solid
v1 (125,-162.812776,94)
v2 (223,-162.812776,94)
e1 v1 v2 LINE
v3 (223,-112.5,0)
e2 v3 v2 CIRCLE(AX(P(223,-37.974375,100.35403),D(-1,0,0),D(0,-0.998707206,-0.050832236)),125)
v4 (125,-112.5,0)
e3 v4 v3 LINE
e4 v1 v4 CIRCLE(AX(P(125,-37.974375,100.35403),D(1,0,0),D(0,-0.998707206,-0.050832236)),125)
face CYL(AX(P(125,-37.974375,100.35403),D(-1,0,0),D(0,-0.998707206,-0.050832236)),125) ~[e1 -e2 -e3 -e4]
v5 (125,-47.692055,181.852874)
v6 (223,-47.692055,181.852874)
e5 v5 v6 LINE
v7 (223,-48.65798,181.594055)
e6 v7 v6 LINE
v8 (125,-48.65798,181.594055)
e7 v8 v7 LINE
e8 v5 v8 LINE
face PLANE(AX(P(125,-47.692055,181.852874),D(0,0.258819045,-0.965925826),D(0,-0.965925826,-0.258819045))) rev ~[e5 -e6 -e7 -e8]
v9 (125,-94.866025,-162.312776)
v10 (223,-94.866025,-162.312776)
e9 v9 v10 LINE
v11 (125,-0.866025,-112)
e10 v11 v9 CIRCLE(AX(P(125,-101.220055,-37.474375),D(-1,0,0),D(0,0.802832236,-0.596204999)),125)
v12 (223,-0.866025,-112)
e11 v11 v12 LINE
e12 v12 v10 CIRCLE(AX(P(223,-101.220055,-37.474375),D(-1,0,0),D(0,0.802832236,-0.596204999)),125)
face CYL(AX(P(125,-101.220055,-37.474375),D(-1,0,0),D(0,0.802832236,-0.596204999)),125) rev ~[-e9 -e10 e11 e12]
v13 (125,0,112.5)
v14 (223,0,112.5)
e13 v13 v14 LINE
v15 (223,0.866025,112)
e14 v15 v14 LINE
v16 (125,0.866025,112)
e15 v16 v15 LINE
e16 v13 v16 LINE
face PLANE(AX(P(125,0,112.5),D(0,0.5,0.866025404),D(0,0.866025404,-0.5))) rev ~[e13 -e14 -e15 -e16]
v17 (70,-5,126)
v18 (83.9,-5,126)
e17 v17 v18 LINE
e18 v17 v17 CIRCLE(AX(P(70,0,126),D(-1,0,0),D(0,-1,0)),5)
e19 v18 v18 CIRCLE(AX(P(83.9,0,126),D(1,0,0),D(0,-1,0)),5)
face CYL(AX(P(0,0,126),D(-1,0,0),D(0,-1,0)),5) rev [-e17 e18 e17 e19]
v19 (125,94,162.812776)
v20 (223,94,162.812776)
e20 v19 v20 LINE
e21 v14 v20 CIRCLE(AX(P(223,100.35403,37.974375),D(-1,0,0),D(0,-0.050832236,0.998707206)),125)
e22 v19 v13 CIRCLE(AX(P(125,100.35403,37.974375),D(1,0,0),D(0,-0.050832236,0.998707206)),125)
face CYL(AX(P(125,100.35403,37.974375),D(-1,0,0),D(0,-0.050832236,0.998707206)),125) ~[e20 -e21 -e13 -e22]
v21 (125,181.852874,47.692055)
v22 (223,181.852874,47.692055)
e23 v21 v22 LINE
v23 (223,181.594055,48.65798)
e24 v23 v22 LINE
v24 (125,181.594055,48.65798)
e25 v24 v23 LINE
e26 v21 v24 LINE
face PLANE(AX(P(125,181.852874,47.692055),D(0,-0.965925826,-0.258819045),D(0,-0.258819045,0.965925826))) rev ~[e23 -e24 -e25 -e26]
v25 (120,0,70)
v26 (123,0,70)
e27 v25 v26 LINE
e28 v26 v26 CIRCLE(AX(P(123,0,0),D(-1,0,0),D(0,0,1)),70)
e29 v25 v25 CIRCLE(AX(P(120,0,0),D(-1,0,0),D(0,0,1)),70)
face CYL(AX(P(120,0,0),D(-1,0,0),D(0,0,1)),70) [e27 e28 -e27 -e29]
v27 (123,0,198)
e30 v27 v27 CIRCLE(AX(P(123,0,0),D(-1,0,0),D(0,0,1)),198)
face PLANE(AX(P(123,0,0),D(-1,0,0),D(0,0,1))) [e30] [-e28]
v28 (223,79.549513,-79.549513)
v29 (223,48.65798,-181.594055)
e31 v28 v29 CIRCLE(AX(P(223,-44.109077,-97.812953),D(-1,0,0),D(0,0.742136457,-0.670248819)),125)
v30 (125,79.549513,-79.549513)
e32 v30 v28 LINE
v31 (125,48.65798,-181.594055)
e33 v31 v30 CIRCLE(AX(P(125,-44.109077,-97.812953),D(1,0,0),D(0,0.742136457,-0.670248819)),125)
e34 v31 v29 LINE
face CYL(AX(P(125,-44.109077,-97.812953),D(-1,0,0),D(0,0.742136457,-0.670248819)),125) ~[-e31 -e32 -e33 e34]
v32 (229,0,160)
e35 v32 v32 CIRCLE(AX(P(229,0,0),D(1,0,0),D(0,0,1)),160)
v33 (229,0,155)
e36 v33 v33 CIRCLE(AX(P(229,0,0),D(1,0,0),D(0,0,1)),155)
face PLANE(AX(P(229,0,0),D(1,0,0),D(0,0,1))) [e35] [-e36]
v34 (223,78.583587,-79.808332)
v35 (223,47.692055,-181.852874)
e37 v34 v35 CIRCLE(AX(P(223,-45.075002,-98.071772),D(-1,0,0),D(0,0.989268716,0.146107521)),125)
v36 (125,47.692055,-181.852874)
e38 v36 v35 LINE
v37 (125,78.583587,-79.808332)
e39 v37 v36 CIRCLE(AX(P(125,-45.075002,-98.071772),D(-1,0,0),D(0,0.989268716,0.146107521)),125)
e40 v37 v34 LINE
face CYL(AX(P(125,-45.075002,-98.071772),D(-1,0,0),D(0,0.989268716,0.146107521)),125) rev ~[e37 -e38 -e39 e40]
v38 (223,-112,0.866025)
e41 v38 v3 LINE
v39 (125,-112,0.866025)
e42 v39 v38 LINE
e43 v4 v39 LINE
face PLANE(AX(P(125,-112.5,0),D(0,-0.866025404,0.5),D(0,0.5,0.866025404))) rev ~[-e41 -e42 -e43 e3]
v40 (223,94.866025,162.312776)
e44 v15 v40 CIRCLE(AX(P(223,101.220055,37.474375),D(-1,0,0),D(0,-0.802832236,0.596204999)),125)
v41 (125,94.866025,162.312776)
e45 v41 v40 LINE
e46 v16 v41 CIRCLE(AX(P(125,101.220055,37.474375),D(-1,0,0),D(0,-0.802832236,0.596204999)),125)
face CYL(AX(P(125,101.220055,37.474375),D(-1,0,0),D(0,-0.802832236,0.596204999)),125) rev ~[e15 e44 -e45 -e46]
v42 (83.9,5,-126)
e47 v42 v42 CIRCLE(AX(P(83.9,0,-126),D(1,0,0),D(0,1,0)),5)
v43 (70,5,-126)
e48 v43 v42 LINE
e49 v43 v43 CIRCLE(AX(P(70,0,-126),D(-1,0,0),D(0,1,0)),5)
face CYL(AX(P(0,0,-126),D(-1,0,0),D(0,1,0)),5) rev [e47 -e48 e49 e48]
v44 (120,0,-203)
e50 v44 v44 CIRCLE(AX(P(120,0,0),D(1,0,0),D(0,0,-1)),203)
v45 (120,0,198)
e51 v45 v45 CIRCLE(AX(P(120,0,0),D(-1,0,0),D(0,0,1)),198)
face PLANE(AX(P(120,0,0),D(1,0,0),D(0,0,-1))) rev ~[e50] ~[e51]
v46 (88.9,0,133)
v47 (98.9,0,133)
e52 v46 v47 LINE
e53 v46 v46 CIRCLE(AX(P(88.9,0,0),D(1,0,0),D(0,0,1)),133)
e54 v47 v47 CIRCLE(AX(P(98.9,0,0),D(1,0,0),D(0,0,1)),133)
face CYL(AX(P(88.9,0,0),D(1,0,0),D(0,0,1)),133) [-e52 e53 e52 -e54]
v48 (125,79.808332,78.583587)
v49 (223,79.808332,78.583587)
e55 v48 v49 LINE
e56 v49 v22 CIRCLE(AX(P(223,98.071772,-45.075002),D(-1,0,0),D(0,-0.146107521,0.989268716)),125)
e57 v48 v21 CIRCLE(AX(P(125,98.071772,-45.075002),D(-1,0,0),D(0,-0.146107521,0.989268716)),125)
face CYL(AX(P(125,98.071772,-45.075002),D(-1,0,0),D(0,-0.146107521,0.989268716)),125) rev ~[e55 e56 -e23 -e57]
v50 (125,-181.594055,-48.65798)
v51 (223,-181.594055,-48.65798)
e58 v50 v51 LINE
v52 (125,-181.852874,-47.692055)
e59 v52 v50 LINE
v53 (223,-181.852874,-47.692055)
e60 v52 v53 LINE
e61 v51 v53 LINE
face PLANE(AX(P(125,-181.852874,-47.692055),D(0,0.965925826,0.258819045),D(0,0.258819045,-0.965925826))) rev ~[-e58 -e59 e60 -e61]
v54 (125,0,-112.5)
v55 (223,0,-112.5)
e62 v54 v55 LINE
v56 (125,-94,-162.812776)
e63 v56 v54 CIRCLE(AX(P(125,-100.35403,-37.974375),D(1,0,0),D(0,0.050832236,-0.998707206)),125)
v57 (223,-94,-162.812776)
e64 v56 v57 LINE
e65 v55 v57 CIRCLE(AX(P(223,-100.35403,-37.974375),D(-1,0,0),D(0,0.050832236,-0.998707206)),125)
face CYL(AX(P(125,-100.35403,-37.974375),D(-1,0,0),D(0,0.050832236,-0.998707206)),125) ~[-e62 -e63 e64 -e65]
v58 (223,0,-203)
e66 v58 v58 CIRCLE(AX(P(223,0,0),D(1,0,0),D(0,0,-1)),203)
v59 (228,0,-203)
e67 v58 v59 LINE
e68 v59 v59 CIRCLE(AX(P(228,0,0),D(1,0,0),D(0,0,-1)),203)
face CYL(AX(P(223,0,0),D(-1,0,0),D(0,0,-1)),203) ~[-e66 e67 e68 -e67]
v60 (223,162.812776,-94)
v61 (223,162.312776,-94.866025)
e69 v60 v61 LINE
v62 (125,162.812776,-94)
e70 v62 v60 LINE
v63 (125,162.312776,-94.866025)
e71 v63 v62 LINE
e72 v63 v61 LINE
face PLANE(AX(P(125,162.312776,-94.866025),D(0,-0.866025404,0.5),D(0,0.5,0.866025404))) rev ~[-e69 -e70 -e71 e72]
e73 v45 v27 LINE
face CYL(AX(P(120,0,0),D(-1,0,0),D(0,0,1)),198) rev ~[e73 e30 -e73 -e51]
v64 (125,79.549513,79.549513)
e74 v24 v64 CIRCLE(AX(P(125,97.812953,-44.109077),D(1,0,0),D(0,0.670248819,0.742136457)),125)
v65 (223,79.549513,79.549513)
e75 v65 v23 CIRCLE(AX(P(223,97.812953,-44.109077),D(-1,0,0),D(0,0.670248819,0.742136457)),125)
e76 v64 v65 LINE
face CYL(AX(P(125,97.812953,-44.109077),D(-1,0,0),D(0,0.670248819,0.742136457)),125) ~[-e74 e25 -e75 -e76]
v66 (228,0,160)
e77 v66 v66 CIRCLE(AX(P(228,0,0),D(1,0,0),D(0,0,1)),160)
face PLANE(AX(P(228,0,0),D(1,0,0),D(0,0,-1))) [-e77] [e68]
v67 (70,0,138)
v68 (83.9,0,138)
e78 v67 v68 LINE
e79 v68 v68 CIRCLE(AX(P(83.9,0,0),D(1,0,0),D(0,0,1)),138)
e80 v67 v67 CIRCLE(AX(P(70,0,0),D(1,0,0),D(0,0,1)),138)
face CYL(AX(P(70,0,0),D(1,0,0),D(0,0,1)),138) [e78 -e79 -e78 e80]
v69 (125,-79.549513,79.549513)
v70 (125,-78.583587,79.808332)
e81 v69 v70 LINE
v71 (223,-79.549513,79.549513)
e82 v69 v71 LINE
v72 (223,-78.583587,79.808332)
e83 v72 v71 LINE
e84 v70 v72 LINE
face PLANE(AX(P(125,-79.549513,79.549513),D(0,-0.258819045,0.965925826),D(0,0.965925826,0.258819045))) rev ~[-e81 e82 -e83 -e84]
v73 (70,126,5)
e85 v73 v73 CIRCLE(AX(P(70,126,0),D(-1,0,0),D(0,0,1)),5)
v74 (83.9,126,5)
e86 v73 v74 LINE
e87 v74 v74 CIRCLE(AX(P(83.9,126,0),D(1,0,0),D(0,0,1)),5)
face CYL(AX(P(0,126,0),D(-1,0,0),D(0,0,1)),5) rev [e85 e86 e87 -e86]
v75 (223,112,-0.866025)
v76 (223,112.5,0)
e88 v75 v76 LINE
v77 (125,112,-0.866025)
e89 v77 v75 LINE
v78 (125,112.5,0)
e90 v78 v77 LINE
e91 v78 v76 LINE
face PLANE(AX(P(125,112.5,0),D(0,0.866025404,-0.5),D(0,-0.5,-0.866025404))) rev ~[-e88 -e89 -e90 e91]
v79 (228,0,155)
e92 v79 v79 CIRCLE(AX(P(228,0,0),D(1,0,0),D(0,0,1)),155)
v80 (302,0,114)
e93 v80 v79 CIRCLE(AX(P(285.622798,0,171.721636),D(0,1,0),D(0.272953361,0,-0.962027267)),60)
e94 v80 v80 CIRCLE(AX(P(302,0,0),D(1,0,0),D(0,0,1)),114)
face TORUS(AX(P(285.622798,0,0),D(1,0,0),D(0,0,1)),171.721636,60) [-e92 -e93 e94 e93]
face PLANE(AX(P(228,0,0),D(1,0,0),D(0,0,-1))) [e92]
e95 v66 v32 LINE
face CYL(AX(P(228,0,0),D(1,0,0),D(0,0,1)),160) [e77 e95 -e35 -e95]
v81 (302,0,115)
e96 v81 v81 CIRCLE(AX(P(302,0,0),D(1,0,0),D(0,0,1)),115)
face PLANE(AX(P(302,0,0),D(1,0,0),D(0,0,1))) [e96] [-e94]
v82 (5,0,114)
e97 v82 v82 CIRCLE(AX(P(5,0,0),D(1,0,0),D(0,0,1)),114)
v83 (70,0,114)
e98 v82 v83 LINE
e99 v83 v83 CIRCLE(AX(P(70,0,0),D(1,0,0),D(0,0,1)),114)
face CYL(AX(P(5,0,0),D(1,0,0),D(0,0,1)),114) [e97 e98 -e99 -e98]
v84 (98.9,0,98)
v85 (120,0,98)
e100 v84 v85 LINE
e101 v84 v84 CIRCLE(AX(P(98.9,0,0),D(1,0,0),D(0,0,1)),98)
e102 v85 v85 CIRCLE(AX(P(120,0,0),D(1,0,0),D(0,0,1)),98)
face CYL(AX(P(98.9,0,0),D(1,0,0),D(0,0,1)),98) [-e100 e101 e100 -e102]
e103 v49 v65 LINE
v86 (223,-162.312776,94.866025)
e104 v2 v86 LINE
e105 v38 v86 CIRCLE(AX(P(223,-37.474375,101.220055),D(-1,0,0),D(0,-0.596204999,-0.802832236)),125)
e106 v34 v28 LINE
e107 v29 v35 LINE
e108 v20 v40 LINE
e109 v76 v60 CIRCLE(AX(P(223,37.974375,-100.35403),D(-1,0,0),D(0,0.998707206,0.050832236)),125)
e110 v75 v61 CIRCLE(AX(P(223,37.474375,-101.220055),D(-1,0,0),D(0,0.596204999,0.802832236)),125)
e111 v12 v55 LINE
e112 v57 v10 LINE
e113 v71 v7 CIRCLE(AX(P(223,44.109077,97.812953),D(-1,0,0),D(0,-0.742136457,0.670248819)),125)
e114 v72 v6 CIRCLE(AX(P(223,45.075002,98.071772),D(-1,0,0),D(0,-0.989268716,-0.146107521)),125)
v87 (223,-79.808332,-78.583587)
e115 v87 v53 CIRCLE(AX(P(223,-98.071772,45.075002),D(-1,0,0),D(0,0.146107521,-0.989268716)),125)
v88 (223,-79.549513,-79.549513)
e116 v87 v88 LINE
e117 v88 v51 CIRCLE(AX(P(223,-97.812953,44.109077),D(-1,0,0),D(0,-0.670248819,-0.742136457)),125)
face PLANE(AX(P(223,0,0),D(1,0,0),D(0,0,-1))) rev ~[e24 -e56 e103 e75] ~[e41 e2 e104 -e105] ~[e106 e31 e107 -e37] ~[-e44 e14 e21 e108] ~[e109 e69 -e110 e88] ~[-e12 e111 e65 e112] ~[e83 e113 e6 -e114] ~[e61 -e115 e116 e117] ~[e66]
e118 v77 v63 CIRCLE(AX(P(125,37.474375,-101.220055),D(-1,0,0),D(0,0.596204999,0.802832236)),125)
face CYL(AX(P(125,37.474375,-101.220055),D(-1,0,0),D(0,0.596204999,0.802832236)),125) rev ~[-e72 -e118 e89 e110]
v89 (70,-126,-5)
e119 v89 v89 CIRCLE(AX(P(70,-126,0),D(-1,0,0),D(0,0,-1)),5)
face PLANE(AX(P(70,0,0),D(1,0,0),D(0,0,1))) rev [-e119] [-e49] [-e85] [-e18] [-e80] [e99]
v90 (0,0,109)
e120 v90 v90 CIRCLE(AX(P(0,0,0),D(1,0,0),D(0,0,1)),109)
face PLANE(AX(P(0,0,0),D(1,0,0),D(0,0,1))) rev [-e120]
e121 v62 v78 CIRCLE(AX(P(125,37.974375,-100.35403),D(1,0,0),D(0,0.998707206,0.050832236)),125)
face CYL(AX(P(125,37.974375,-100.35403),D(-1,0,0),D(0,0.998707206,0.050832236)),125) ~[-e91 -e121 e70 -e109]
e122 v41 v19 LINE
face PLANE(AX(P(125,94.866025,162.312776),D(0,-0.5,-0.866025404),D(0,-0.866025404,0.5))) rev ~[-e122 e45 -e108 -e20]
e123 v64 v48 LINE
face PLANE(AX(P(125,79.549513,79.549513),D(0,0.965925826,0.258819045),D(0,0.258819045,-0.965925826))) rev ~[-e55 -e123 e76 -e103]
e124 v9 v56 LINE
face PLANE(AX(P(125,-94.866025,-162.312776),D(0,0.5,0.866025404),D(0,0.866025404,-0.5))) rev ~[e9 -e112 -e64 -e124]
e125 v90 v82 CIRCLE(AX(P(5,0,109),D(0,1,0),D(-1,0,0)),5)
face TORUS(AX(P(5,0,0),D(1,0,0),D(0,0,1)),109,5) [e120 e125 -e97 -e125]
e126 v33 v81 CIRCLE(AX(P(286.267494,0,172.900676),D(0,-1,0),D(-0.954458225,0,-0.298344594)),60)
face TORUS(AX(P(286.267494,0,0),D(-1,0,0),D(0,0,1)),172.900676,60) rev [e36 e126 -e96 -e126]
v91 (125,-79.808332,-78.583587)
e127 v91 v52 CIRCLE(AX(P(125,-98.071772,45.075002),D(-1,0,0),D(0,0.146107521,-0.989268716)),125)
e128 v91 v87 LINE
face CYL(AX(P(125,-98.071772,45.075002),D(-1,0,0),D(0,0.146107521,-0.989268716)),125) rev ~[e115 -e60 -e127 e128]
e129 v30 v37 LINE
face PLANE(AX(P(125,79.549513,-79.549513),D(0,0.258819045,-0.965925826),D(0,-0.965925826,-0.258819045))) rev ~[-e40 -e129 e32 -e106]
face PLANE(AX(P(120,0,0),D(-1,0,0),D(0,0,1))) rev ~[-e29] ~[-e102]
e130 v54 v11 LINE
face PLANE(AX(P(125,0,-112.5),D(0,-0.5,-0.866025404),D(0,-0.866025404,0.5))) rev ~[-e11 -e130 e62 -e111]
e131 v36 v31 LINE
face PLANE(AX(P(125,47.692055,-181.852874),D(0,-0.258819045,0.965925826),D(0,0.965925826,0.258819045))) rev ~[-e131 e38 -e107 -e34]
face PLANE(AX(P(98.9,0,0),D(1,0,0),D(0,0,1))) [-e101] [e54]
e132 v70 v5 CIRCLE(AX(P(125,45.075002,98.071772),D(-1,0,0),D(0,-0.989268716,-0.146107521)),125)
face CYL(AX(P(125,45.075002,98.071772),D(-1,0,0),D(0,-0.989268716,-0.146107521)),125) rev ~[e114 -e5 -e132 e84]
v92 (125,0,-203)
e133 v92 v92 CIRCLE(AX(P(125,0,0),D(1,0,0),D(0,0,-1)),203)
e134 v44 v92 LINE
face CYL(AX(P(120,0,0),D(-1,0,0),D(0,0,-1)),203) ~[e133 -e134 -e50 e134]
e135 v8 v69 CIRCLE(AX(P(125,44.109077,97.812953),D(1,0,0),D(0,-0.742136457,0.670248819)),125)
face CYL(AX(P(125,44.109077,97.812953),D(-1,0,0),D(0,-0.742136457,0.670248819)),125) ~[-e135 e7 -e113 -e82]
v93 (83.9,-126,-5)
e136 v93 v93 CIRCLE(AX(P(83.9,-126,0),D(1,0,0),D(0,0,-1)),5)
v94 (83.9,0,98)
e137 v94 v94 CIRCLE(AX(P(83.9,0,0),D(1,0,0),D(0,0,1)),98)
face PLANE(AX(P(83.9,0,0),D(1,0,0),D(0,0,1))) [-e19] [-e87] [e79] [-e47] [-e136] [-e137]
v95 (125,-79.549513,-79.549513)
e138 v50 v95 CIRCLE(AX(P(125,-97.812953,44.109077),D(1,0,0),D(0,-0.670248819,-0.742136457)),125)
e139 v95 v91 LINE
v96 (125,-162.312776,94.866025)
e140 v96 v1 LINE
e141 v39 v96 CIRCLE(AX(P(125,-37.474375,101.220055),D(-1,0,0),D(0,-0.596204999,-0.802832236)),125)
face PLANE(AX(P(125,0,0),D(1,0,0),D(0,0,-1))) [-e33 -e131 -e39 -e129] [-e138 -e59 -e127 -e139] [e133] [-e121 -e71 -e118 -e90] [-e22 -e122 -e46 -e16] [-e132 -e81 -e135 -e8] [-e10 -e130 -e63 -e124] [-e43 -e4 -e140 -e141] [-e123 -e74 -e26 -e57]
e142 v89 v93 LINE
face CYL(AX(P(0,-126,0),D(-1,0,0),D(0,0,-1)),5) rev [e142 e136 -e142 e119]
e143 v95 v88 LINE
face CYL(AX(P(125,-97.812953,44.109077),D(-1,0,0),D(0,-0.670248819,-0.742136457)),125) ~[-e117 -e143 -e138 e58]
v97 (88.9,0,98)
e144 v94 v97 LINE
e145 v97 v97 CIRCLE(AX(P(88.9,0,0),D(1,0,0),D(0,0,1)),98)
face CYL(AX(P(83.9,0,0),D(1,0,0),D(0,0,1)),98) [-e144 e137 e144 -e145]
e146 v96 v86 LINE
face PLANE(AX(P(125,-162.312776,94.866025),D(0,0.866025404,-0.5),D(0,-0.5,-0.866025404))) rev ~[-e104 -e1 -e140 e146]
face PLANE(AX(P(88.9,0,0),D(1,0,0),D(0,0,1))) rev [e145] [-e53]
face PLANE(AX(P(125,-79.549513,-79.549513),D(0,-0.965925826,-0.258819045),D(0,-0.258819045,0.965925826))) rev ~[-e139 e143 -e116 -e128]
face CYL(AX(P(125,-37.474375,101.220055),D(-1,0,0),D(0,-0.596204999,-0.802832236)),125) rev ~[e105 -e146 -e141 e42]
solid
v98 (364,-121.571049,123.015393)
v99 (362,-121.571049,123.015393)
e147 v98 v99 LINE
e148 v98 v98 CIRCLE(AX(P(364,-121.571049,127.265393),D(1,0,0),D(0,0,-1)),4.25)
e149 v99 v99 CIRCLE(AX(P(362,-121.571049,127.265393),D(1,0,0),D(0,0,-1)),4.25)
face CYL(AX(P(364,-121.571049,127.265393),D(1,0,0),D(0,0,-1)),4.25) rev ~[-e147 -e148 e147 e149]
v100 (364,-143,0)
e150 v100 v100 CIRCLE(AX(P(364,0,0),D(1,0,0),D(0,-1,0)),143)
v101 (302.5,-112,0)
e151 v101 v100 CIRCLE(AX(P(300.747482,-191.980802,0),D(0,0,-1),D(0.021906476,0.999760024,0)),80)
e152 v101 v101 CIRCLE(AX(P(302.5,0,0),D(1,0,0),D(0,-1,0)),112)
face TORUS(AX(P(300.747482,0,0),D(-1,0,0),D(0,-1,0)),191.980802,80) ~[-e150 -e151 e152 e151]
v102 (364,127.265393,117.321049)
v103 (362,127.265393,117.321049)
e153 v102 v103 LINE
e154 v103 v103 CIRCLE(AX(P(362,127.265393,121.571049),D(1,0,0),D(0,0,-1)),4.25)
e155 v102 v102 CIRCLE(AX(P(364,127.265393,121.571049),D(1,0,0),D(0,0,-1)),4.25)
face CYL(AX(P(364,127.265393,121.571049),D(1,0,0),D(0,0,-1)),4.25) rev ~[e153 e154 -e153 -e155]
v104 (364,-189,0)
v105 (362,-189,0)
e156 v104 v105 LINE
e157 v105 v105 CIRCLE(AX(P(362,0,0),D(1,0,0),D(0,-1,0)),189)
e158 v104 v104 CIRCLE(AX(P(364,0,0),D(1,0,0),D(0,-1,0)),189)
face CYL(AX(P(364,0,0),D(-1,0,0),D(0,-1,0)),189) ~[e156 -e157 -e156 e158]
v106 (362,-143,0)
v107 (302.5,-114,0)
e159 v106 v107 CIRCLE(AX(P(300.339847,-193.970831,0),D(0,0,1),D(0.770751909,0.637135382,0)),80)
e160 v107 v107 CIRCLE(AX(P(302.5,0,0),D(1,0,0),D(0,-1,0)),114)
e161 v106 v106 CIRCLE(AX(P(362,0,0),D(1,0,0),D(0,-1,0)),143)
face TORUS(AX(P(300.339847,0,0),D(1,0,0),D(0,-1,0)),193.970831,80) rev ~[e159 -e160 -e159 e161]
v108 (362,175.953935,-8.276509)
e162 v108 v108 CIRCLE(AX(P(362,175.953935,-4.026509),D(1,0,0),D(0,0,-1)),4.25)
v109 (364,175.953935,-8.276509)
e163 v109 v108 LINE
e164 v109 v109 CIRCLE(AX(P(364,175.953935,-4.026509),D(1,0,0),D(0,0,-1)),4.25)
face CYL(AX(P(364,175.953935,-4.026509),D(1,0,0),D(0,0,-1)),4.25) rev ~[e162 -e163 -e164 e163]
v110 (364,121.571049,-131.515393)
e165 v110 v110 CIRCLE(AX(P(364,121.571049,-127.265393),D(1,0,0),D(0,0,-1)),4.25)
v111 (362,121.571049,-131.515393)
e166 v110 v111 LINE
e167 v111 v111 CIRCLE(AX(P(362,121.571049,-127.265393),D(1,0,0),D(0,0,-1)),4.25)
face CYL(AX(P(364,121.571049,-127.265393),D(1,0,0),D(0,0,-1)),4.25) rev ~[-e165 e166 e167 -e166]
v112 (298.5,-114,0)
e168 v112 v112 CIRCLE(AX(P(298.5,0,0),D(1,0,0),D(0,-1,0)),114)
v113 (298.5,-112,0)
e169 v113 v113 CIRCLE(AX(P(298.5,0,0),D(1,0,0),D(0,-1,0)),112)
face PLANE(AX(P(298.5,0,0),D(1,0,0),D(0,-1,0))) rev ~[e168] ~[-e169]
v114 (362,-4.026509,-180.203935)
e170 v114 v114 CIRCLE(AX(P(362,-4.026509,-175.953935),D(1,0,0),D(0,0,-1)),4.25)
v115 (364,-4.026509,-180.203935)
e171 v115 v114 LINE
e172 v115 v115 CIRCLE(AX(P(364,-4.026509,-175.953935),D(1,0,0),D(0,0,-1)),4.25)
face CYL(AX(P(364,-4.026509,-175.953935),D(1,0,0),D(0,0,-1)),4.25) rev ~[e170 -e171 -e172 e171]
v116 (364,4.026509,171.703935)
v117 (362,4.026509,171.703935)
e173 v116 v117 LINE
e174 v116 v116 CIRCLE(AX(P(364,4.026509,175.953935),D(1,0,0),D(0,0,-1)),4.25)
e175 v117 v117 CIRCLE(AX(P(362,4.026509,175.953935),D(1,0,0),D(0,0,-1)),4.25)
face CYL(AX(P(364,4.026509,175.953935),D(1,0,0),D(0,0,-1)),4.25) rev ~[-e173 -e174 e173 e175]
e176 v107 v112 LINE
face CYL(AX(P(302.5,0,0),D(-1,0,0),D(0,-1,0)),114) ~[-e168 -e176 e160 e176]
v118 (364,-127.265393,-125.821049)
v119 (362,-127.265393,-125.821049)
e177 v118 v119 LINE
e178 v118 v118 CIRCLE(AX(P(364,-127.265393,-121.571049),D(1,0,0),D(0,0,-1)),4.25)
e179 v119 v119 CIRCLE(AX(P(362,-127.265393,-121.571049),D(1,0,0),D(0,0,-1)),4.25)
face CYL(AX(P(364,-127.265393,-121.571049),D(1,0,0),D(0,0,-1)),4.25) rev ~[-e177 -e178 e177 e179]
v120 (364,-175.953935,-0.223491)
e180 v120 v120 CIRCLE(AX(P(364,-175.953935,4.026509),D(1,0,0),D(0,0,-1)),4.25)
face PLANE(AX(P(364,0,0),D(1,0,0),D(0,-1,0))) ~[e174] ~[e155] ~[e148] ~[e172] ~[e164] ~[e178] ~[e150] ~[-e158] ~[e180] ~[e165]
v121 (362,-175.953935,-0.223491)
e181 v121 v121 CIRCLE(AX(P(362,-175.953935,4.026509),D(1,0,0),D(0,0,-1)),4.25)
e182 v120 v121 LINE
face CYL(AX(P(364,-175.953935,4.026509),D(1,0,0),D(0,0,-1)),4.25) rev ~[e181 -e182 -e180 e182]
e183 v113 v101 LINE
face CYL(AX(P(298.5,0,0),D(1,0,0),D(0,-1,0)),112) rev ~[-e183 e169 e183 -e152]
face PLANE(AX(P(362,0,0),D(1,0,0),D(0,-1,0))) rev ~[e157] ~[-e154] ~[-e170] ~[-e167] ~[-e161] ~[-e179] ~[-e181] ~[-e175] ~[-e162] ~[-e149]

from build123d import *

# Parameters (mm, degrees)
SKETCH2_R         = 203
EXTRUDE1_DEPTH    = 5
SKETCH9_R         = 198
SKETCH9_R_2       = 70
EXTRUDE7_DEPTH    = 3
SKETCH3_R         = 203
EXTRUDE2_DEPTH    = 5
EXTRUDE3_DEPTH    = 103
CIRPATTERN1_COUNT = 8
SKETCH7_R         = 4.25
EXTRUDE5_DEPTH    = 5
SKETCH8_R         = 5
EXTRUDE6_DEPTH    = 83.9
CIRPATTERN3_COUNT = 4


with BuildPart() as part:
    # Sketch1 → Revolve1 (revolve)
    with BuildSketch(Plane.XY, mode=Mode.PRIVATE) as revolve1_sk:
        with BuildLine():
            Line((0, 0), (0, 109))
            ThreePointArc((0, 109), (1.464466094, 112.535533906), (5, 114))
            Line((5, 114), (70, 114))
            Line((70, 114), (70, 138))
            Line((70, 138), (83.9, 138))
            Line((83.9, 138), (83.9, 98))
            Line((83.9, 98), (88.9, 98))
            Line((88.9, 98), (88.9, 133))
            Line((88.9, 133), (98.9, 133))
            Line((98.9, 133), (98.9, 98))
            Line((98.9, 98), (120, 98))
            Line((120, 98), (120, 0))
            Line((120, 0), (0, 0))
        make_face()
    revolve(revolve1_sk.sketch.rotate(Axis((0, 0, 0), (1, 0, 0)), 90), axis=Axis((0, 0, 0), (1, 0, 0)))

    # Sketch2 → Extrude1 (add)
    with BuildSketch(Plane(origin=(120, 0, 0), x_dir=(0, 0, -1), z_dir=(1, 0, 0))):
        Circle(SKETCH2_R)
    extrude(amount=EXTRUDE1_DEPTH)

    # Sketch9 → Extrude7 (cut)
    with BuildSketch(Plane.ZY.offset(-120)):
        Circle(SKETCH9_R)
        Circle(SKETCH9_R_2, mode=Mode.SUBTRACT)
    extrude(amount=-EXTRUDE7_DEPTH, mode=Mode.SUBTRACT)



with BuildPart() as body_2:
    # Sketch3 → Extrude2 (new body)
    with BuildSketch(Plane(origin=(223, 0, 0), x_dir=(0, 0, -1), z_dir=(1, 0, 0))):
        Circle(SKETCH3_R)
    extrude(amount=EXTRUDE2_DEPTH)


with BuildPart() as part_1:
    add(part.part)

    add(body_2.part)  # Extrude3 merges body 2
    # Sketch4 → Extrude3 (add)
    with BuildSketch(Plane(origin=(125, 0, 0), x_dir=(0, 0, -1), z_dir=(1, 0, 0))):
        with BuildLine():
            Line((0, 112.5), (0.866025404, 112))
            ThreePointArc((0.866025404, 112), (42.232799341, 147.681015951), (94.866025404, 162.312775911))
            Line((94.866025404, 162.312775911), (94, 162.812775911))
            ThreePointArc((94, 162.812775911), (41.366773937, 148.181015951), (0, 112.5))
        make_face()
    extrude3 = extrude(amount=EXTRUDE3_DEPTH)

    # CirPattern1: Extrude3 ×8 about axis
    cirpattern1_axis = Axis((0, 0, 0), (1, 0, 0))
    for i in range(1, CIRPATTERN1_COUNT):
        add(extrude3.rotate(cirpattern1_axis, i * 360 / CIRPATTERN1_COUNT))

    # Sketch5 → Revolve2 (revolve)
    with BuildSketch(Plane.XY, mode=Mode.PRIVATE) as revolve2_sk:
        with BuildLine():
            Line((228, 160), (229, 160))
            Line((229, 160), (229, 155))
            ThreePointArc((229, 155), (257.435414382, 120.282131247), (302, 115))
            Line((302, 115), (302, 114))
            ThreePointArc((302, 114), (256.544459127, 119.238779888), (228, 155))
            Line((228, 155), (228, 160))
        make_face()
    revolve(revolve2_sk.sketch.rotate(Axis((0, 0, 0), (1, 0, 0)), 90), axis=Axis((0, 0, 0), (1, 0, 0)))

    # Sketch8 → Extrude6 (cut)
    with BuildSketch(Plane(origin=(0, 0, 0), x_dir=(0, 0, -1), z_dir=(1, 0, 0))):
        with Locations(Location((0, 126, 0), (0, 0, 180))):
            Circle(SKETCH8_R)
    extrude6 = extrude(amount=EXTRUDE6_DEPTH, mode=Mode.SUBTRACT)

    # CirPattern3: Extrude6 ×4 about axis
    cirpattern3_axis = Axis((0, 0, 0), (1, 0, 0))
    for i in range(1, CIRPATTERN3_COUNT):
        add(extrude6.rotate(cirpattern3_axis, i * 360 / CIRPATTERN3_COUNT), mode=Mode.SUBTRACT)


with BuildPart() as body_2_2:
    # Sketch6 → Revolve3 (revolve)
    with BuildSketch(Plane.XY, mode=Mode.PRIVATE) as revolve3_sk:
        with BuildLine():
            Line((364, 189), (362, 189))
            Line((362, 189), (362, 143))
            ThreePointArc((362, 143), (335.389923552, 122.057743057), (302.5, 114))
            Line((302.5, 114), (298.5, 114))
            Line((298.5, 114), (298.5, 112))
            Line((298.5, 112), (302.5, 112))
            ThreePointArc((302.5, 112), (336.756698542, 120.54316257), (364, 143))
            Line((364, 143), (364, 189))
        make_face()
    revolve(revolve3_sk.sketch.rotate(Axis((0, 0, 0), (1, 0, 0)), 180), axis=Axis((0, 0, 0), (1, 0, 0)))

    # Sketch7 → Extrude5 (cut)
    with BuildSketch(Plane(origin=(364, 0, 0), x_dir=(0, 0, -1), z_dir=(1, 0, 0))):
        with Locations((-121.571048537, 127.265392616)):
            Circle(SKETCH7_R)
        with Locations((4.026509313, 175.953934945)):
            Circle(SKETCH7_R)
        with Locations((127.265392616, 121.571048537)):
            Circle(SKETCH7_R)
        with Locations((175.953934945, -4.026509313)):
            Circle(SKETCH7_R)
        with Locations((121.571048537, -127.265392616)):
            Circle(SKETCH7_R)
        with Locations((-4.026509313, -175.953934945)):
            Circle(SKETCH7_R)
        with Locations((-127.265392616, -121.571048537)):
            Circle(SKETCH7_R)
        with Locations((-175.953934945, 4.026509313)):
            Circle(SKETCH7_R)
    extrude(amount=-EXTRUDE5_DEPTH, mode=Mode.SUBTRACT)


solid = Compound([part_1.part, body_2_2.part])
